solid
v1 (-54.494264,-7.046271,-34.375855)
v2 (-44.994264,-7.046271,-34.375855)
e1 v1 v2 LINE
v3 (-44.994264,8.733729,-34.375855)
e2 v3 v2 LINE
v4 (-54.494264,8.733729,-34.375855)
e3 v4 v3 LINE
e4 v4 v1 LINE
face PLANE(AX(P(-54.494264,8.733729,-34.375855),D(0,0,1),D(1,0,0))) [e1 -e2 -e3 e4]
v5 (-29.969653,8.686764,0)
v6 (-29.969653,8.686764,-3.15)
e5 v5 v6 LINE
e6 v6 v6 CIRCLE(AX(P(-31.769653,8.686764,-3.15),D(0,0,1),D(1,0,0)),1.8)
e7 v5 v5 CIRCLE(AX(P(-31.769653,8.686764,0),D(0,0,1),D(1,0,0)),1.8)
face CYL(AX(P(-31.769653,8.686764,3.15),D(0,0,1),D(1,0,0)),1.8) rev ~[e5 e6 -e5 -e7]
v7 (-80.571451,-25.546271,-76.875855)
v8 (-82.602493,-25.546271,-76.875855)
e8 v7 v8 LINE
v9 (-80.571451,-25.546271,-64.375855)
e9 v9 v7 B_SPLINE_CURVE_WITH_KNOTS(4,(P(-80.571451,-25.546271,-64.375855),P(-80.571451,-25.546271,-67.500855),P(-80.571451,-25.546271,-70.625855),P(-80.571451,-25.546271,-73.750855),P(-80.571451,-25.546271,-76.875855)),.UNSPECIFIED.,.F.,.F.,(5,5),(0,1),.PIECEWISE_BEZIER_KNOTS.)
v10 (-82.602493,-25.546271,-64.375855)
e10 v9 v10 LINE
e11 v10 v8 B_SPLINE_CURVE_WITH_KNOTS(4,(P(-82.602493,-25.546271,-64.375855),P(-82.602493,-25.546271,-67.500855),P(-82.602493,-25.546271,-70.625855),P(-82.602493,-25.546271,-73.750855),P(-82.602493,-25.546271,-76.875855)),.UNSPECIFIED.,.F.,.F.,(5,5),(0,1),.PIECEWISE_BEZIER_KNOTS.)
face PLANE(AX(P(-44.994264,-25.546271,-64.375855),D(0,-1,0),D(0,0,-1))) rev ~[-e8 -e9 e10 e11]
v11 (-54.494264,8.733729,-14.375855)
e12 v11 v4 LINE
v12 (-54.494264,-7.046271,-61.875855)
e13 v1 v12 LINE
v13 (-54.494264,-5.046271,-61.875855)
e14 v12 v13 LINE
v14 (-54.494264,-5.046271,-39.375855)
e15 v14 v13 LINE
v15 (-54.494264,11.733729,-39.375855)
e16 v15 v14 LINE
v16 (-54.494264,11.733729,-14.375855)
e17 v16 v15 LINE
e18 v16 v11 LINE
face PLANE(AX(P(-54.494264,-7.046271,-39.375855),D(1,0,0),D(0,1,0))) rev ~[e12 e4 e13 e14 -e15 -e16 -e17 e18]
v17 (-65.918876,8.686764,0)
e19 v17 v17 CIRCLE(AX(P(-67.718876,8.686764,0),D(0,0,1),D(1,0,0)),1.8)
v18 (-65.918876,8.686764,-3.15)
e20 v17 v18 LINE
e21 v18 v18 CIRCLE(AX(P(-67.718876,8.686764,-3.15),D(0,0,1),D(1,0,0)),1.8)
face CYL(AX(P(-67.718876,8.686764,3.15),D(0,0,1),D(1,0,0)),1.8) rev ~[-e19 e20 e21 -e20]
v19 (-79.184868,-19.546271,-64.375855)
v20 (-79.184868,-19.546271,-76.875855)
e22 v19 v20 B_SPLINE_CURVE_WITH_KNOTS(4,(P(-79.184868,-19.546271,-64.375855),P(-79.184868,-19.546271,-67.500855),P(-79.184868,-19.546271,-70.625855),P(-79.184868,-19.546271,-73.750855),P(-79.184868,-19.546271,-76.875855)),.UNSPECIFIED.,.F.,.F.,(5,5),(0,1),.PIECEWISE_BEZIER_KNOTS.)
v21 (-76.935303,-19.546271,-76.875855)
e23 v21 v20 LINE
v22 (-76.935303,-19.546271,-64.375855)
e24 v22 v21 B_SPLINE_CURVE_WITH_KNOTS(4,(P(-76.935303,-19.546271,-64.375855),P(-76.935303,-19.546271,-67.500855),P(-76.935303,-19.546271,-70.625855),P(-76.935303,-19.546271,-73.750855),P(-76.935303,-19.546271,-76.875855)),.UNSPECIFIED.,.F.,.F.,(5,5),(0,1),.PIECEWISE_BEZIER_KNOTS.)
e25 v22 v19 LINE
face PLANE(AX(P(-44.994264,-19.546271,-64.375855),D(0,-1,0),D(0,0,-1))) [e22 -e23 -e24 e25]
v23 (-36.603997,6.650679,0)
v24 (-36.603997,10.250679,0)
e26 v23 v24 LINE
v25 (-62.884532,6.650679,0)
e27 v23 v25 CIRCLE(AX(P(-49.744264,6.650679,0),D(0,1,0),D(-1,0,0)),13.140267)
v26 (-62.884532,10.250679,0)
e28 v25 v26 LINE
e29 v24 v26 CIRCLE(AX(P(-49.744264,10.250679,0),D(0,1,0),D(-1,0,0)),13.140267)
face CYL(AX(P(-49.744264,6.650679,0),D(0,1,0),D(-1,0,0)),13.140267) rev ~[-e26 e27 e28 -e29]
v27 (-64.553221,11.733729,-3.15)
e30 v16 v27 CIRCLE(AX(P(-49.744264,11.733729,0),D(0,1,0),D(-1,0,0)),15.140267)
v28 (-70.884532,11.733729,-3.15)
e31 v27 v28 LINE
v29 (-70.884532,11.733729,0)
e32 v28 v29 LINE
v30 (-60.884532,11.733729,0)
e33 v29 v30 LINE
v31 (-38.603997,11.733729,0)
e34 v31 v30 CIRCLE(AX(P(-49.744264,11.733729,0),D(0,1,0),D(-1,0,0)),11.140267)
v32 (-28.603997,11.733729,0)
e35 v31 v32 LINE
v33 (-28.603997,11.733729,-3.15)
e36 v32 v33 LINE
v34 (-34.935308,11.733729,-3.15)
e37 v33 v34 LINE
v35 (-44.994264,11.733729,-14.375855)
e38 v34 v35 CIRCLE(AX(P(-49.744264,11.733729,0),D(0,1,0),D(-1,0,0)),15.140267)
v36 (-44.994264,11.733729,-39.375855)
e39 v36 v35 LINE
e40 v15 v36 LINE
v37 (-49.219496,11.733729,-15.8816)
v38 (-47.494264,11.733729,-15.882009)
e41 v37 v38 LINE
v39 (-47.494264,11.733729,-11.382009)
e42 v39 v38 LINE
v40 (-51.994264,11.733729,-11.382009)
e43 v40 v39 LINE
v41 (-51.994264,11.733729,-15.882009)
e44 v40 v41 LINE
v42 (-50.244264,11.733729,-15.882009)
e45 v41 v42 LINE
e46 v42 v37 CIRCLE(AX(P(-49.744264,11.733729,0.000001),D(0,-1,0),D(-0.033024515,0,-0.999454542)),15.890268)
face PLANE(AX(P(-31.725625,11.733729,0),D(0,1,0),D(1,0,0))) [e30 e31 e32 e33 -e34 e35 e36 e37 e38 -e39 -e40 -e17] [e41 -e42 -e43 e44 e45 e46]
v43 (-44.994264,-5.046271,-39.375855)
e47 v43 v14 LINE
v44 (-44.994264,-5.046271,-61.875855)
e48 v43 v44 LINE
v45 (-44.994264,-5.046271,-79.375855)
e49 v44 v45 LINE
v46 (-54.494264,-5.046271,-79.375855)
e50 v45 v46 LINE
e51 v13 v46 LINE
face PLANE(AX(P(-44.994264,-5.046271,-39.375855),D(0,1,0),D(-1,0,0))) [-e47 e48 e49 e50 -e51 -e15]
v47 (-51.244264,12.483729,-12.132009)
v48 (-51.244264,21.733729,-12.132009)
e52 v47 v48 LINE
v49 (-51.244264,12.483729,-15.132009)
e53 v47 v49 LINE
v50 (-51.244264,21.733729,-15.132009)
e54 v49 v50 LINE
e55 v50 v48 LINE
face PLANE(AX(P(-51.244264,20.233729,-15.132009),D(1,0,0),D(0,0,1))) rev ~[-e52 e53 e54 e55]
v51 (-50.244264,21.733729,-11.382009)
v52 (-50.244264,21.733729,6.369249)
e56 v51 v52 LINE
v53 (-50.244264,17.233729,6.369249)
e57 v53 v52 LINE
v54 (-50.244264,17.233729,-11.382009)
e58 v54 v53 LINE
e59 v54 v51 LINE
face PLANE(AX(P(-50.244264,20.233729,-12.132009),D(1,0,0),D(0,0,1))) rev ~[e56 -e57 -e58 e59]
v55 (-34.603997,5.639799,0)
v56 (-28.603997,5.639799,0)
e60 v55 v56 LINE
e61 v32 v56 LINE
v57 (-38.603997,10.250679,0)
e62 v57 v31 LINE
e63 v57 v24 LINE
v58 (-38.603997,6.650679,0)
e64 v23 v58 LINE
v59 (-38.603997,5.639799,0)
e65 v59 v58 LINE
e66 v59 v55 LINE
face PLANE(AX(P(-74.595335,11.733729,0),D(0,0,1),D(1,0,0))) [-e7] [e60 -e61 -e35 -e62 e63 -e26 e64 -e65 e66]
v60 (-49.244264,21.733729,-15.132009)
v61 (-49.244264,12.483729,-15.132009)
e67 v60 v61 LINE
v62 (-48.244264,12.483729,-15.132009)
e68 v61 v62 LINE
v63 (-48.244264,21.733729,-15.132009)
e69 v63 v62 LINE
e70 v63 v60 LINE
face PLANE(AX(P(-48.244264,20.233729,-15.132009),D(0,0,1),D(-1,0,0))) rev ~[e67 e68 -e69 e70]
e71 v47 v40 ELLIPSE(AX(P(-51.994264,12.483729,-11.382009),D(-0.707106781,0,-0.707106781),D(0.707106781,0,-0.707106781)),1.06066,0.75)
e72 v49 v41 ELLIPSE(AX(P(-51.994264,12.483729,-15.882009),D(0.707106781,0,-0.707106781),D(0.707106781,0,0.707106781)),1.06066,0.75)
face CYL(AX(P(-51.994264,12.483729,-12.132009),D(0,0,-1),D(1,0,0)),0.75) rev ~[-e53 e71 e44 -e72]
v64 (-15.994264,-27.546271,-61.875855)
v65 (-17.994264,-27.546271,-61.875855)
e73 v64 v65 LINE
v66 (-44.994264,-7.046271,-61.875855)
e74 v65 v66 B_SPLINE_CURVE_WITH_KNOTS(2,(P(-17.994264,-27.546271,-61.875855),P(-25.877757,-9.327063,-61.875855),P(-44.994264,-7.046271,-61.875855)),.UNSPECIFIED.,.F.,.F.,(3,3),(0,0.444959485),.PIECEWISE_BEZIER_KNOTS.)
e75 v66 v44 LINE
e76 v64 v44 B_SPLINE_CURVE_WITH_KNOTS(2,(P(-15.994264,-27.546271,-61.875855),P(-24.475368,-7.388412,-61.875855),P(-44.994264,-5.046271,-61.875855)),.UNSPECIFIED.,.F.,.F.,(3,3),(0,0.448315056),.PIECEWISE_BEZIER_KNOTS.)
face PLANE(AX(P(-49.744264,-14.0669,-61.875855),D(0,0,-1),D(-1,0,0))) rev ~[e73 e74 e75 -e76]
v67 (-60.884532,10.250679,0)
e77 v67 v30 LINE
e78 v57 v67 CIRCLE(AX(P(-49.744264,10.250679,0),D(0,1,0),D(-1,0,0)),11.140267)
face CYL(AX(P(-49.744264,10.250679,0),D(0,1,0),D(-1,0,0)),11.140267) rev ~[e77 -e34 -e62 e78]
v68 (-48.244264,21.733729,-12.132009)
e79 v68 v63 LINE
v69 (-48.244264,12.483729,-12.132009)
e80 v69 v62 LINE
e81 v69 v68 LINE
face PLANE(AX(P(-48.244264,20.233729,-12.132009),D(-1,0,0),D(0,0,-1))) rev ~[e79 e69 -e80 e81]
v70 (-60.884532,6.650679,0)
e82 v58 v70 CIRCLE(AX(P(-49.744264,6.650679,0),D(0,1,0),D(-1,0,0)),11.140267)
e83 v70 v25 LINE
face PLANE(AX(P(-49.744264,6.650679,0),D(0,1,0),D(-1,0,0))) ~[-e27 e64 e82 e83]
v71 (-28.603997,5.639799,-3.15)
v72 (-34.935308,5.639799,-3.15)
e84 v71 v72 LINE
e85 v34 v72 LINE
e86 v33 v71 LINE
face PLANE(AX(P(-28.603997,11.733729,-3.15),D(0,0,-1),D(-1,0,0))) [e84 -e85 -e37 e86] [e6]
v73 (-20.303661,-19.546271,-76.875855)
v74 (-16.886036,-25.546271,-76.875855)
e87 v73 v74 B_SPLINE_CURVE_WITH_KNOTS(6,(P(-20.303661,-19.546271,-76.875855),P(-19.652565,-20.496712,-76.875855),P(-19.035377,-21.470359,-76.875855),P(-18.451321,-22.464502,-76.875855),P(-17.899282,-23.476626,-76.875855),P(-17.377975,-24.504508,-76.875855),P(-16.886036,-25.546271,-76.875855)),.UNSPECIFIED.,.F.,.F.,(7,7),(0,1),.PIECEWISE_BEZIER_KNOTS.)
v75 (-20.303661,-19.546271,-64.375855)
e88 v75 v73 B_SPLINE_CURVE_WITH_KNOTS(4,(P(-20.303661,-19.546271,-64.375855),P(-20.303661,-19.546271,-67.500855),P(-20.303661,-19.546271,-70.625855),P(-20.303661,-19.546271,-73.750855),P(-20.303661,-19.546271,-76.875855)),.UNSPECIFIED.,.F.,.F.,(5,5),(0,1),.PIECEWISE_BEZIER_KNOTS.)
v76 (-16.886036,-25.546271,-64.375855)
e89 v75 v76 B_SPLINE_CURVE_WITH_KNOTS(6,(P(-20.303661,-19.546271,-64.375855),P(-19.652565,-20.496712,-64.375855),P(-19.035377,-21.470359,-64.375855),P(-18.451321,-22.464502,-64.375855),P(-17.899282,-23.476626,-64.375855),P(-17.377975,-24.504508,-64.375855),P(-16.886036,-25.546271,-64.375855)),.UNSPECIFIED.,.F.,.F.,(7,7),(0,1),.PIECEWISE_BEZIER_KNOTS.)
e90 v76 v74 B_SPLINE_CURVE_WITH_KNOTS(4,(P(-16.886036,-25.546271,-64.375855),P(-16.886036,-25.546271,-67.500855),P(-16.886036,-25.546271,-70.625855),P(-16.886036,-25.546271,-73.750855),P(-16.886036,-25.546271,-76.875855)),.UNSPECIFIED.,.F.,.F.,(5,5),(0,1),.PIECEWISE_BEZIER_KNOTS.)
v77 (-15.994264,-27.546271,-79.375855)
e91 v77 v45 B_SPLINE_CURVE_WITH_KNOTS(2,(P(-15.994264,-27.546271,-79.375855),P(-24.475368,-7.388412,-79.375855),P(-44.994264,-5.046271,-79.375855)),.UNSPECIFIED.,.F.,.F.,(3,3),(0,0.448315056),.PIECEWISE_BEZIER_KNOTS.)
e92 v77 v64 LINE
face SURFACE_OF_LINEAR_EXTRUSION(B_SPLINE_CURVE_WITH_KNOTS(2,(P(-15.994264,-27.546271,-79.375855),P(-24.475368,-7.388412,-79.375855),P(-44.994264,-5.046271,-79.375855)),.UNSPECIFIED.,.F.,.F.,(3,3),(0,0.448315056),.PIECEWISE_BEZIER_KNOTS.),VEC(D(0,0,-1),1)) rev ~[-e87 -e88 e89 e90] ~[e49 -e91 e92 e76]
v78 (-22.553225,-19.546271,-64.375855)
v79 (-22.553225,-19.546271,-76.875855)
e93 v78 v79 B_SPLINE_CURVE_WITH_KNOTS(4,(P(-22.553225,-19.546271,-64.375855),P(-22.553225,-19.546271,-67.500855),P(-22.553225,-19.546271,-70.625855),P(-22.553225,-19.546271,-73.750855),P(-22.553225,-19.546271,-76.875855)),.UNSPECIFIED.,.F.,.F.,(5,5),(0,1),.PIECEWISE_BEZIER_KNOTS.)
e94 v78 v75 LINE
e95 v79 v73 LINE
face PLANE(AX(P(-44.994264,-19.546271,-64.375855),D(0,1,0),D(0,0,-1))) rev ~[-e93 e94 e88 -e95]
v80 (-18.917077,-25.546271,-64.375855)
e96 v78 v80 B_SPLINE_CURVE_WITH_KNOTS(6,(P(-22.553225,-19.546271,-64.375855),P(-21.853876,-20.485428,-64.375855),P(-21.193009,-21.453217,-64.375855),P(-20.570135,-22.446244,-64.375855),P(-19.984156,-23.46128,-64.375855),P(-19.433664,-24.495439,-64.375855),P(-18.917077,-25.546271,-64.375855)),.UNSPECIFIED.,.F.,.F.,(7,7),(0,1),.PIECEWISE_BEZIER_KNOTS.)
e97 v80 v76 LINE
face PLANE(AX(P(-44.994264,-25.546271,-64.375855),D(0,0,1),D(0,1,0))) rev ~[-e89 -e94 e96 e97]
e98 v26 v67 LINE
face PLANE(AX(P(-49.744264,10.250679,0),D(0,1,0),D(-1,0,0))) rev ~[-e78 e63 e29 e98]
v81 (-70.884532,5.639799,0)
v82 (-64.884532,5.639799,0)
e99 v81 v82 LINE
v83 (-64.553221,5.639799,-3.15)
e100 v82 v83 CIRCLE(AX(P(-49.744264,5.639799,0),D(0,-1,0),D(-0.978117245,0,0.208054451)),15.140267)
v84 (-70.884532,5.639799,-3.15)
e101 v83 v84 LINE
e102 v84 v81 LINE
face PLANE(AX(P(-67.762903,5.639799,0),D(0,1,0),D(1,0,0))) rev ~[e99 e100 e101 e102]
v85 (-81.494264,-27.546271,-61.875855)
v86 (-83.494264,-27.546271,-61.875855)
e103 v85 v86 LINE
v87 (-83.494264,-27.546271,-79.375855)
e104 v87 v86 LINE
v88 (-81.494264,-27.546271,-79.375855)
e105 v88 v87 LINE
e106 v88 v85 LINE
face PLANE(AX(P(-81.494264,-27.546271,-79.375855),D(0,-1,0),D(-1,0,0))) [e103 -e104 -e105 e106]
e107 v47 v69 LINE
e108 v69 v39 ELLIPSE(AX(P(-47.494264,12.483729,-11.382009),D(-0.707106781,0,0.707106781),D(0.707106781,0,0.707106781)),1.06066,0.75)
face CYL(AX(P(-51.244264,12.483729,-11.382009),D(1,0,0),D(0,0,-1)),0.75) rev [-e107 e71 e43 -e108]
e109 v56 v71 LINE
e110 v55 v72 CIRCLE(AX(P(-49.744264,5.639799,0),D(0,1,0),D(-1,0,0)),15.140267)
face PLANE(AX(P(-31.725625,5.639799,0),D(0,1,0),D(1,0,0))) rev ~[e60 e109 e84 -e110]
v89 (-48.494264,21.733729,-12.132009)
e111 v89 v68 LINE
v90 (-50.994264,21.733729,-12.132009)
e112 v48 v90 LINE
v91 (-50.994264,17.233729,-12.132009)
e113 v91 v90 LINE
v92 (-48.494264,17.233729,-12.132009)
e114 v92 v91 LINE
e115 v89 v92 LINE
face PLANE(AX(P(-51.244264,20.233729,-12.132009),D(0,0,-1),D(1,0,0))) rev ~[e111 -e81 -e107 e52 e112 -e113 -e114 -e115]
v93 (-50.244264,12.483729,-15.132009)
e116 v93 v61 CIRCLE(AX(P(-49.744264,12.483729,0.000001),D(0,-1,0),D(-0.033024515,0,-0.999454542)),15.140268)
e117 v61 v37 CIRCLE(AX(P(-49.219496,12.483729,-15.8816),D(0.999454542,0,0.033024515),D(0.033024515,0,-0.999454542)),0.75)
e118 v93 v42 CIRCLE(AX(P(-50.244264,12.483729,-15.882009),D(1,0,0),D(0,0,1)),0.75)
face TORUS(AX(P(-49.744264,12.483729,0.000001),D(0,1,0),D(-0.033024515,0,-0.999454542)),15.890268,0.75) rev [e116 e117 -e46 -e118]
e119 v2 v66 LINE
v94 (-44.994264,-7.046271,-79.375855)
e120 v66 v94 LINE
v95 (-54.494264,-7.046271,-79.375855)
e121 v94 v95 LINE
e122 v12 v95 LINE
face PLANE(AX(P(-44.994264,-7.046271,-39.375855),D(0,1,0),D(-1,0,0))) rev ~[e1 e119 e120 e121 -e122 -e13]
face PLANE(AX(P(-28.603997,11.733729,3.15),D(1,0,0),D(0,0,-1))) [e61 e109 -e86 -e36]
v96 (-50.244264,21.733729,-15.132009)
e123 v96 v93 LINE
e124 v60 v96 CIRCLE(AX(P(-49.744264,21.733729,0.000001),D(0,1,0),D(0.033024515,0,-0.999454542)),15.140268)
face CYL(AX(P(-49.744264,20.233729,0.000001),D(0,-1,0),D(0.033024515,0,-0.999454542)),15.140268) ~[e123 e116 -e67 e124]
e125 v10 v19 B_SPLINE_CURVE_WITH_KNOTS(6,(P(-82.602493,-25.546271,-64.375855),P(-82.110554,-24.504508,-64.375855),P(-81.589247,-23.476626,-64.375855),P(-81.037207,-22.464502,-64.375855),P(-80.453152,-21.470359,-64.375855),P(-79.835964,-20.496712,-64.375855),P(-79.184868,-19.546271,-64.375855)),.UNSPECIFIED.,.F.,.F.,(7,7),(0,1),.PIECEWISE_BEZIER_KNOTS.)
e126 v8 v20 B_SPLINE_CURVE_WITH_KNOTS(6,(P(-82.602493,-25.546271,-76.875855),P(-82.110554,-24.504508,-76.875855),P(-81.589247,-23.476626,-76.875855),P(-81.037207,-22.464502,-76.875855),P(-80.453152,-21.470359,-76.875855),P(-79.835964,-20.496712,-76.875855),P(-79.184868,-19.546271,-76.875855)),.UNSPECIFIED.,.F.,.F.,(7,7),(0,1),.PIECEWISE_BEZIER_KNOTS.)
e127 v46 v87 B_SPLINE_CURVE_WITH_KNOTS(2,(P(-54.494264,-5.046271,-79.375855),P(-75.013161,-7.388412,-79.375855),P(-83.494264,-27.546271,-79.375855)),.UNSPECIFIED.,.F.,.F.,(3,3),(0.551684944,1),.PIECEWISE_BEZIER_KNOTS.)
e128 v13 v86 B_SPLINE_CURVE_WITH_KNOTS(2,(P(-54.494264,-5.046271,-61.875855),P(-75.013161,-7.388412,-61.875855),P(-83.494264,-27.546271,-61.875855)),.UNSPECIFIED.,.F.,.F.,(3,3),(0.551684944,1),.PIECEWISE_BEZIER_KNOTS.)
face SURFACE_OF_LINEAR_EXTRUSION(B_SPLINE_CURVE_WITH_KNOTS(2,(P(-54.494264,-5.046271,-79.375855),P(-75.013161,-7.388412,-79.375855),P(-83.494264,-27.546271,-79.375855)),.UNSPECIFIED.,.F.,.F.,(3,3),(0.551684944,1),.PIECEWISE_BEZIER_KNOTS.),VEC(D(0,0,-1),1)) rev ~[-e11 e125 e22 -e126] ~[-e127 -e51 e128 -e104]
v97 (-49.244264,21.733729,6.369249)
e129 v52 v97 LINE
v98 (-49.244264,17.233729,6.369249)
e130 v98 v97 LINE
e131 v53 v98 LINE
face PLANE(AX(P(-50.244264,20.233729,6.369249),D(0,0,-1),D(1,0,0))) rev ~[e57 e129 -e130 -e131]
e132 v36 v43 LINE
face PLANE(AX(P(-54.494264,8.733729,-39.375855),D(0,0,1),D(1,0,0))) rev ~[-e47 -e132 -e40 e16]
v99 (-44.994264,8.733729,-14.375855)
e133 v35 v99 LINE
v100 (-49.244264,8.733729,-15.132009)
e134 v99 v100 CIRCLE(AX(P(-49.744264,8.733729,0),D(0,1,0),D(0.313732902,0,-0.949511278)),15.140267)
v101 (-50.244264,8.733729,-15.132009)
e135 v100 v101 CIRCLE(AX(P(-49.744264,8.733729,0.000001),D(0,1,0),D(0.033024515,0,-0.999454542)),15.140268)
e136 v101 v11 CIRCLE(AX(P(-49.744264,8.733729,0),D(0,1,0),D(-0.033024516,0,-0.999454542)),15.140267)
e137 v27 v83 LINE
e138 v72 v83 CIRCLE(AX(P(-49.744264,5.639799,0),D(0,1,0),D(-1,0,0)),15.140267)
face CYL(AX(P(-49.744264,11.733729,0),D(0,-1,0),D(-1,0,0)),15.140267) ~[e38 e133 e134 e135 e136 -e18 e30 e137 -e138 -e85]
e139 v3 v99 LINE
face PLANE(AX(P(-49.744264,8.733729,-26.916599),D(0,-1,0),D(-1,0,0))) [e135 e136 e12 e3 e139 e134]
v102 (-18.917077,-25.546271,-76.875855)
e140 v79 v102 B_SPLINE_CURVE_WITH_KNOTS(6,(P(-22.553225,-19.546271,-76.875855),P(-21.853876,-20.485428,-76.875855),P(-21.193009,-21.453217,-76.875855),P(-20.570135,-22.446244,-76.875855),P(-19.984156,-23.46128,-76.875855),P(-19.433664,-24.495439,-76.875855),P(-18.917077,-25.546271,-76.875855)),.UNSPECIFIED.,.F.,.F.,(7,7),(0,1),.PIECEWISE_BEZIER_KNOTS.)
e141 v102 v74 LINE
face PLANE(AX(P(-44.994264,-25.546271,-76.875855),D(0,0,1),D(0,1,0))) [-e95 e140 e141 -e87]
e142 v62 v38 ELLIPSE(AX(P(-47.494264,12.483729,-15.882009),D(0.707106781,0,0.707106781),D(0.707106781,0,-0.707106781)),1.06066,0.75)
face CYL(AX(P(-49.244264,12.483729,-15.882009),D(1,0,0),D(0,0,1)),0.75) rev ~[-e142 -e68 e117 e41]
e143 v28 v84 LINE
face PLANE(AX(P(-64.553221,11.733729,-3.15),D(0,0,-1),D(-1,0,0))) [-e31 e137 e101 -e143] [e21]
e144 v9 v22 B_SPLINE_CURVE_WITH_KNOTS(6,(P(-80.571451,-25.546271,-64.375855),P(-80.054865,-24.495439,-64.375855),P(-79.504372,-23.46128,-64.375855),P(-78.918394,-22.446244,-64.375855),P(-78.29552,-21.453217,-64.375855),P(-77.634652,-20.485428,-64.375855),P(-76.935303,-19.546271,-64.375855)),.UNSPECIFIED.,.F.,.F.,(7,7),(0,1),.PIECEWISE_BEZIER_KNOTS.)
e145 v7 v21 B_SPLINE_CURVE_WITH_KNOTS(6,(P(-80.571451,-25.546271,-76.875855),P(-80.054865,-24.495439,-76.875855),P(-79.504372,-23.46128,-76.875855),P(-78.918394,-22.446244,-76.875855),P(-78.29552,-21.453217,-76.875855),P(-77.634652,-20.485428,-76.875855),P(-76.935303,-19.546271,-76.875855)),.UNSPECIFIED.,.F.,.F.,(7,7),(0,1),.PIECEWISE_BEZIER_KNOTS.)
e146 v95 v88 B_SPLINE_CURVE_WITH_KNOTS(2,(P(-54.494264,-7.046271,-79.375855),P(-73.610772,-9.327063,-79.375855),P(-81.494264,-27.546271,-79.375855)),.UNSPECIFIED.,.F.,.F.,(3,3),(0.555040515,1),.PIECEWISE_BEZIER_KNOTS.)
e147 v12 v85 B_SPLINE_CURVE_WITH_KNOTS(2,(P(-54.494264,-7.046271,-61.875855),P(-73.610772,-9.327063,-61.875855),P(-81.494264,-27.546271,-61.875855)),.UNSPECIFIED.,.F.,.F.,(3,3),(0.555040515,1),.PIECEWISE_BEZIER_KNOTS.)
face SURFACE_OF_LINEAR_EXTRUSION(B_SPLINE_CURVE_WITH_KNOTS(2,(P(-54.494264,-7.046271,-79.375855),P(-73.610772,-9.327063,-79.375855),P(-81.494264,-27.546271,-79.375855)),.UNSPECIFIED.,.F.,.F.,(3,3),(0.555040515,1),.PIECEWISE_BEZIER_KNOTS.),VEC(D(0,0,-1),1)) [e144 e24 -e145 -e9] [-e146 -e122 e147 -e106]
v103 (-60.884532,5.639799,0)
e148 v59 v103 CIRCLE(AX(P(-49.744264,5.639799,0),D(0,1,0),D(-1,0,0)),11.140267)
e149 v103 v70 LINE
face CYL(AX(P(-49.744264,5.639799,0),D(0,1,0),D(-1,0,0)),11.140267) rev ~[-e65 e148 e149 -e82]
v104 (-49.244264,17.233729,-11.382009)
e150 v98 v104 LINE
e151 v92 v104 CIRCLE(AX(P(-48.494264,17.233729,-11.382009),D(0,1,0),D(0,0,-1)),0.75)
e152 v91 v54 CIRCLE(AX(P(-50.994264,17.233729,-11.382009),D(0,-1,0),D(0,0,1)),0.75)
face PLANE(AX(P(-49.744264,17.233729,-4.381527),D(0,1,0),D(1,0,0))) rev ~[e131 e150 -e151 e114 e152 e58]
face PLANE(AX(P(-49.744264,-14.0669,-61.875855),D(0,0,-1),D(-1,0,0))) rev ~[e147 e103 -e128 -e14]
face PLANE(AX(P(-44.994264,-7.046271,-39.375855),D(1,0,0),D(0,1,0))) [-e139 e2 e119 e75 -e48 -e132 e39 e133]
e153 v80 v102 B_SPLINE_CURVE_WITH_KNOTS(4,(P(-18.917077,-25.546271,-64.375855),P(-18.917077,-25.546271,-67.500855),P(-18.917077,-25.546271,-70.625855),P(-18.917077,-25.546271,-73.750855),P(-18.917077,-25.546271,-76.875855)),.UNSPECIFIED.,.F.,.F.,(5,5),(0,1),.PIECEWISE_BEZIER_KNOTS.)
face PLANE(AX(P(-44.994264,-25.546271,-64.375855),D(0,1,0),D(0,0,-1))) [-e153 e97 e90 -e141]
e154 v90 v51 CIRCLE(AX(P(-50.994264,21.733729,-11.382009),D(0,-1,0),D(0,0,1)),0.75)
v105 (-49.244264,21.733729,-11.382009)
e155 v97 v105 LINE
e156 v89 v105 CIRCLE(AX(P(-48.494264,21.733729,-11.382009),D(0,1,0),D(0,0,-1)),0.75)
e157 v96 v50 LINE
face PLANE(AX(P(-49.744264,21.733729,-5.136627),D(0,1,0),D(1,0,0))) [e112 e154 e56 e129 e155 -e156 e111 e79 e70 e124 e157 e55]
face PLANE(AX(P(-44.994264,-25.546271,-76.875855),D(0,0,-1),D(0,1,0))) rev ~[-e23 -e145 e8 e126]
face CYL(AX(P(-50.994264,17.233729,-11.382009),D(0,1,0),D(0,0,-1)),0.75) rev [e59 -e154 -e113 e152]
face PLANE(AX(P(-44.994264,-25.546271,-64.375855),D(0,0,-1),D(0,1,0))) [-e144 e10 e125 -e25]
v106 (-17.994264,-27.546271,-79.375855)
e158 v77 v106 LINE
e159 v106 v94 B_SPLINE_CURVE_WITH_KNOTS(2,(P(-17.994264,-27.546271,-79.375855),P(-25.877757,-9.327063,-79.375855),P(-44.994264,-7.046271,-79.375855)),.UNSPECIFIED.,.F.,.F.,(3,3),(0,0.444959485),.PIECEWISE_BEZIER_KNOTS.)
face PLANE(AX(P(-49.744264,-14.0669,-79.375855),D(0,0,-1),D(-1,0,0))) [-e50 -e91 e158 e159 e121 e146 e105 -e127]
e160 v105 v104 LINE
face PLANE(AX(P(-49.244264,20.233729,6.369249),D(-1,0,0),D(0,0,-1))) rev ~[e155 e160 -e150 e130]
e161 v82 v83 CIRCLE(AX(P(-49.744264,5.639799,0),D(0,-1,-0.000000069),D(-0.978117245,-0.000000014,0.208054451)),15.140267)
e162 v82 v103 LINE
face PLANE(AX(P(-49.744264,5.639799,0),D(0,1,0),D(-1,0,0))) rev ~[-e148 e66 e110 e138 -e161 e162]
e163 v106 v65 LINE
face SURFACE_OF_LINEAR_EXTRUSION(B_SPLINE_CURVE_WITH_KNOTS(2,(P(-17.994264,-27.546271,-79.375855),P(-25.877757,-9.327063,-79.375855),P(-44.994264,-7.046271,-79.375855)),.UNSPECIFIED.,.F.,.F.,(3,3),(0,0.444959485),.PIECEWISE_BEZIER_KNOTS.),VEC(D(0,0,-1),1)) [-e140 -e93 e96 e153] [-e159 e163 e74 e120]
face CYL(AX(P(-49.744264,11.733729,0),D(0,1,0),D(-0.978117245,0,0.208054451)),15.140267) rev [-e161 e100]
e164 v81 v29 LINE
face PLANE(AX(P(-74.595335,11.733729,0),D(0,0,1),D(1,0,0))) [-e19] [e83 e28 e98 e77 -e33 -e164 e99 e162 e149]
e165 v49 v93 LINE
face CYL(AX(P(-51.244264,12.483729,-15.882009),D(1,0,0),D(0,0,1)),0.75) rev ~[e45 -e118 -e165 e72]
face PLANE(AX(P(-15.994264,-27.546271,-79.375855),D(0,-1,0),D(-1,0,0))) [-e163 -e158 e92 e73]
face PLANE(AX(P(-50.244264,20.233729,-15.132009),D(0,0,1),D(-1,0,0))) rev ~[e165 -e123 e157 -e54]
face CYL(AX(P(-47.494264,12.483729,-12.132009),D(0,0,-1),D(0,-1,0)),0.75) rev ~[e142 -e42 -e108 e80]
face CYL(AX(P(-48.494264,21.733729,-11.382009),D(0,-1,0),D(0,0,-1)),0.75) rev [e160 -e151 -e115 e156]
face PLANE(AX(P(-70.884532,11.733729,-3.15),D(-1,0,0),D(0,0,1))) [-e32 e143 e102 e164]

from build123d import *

# Parameters (mm, degrees)
BOSS_EXTRUDE1_DEPTH     = 8.5
BOSS_EXTRUDE2_DEPTH     = 3
BOSS_EXTRUDE3_DEPTH     = 3
SKETCH10_W              = 9.5
SKETCH10_H              = 5
BOSS_EXTRUDE4_DEPTH     = 15.78
SKETCH11_W              = 9.5
SKETCH11_H              = 2
BOSS_EXTRUDE5_DEPTH     = 40
BOSS_EXTRUDE6_DEPTH     = 6.09393
SKETCH14_R              = 1.8
CUT_EXTRUDE1_DEPTH      = 6.3
SKETCH15_W              = 51.153217575
SKETCH15_H              = 21.210560201
CUT_EXTRUDE3_DEPTH      = 19.78
SKETCH18_W              = 3
SKETCH18_H              = 3
BOSS_EXTRUDE7_DEPTH     = 8.5
FILLET1_R               = 0.75
BOSS_EXTRUDE8_DEPTH     = 1.5
FILLET2_R               = 0.75
BOSS_EXTRUDE9_DEPTH     = 17.5
SKETCH21_W              = 12.5
SKETCH21_H              = 6
CUT_EXTRUDE4_DEPTH      = 30.0000001
CUT_EXTRUDE4_DEPTH_BACK = 39.5000001


with BuildPart() as part:
    # Sketch3 → Revolve1 (revolve)
    with BuildSketch(Plane.XY):
        Polygon((-62.694264441, 11.733728816), (-64.884531744, 11.733728816), (-64.884531744, 5.639799249), (-60.884531744, 5.639799249), (-60.884531744, 6.650679103), (-62.884531744, 6.650679103), (-62.884531744, 10.250679103), (-60.884531744, 10.250679103), (-60.884531744, 11.733728816), align=None)
    revolve(axis=Axis((-49.744264441, 0, 0), (0, 1, 0)))

    # Sketch7 → Boss-Extrude1 (add)
    with BuildSketch(Plane(origin=(0, 11.733728816, 0), x_dir=(1, 0, 0), z_dir=(0, 1, 0))):
        with BuildLine():
            Line((-50.244264441, 15.132008921), (-50.244264441, 13.130751112))
            ThreePointArc((-50.244264441, 13.130751112), (-49.744264441, 13.140267302), (-49.244264441, 13.130751112))
            Line((-49.244264441, 13.130751112), (-49.244264441, 15.132008921))
            ThreePointArc((-49.244264441, 15.132008921), (-49.744264441, 15.140267302), (-50.244264441, 15.132008921))
        make_face()
    extrude(amount=BOSS_EXTRUDE1_DEPTH)

    # Sketch8 → Boss-Extrude2 (add)
    with BuildSketch(Plane(origin=(0, 20.233728816, 0), x_dir=(1, 0, 0), z_dir=(0, 1, 0))):
        with BuildLine():
            Line((-50.244264441, 15.132008921), (-50.244264441, 13.130751112))
            Line((-50.244264441, 13.130751112), (-50.244264441, -6.369248888))
            Line((-50.244264441, -6.369248888), (-49.244264441, -6.369248888))
            Line((-49.244264441, -6.369248888), (-49.244264441, 13.130751112))
            Line((-49.244264441, 13.130751112), (-49.244264441, 15.132008921))
            ThreePointArc((-49.244264441, 15.132008921), (-49.744264441, 15.140267302), (-50.244264441, 15.132008921))
        make_face()
    extrude(amount=-BOSS_EXTRUDE2_DEPTH)

    # Sketch9 → Boss-Extrude3 (add)
    with BuildSketch(Plane(origin=(0, 11.733728816, 0), x_dir=(1, 0, 0), z_dir=(0, 1, 0))):
        with BuildLine():
            Line((-54.494264441, 14.375854548), (-54.494264441, 39.375854548))
            Line((-54.494264441, 39.375854548), (-44.994264441, 39.375854548))
            Line((-44.994264441, 39.375854548), (-44.994264441, 14.375854548))
            ThreePointArc((-44.994264441, 14.375854548), (-47.092177082, 14.906177465), (-49.244264441, 15.132008921))
            ThreePointArc((-49.244264441, 15.132008921), (-49.744264441, 15.140267302), (-50.244264441, 15.132008921))
            ThreePointArc((-50.244264441, 15.132008921), (-52.3963518, 14.906177465), (-54.494264441, 14.375854548))
        make_face()
    extrude(amount=-BOSS_EXTRUDE3_DEPTH)

    # Sketch10 → Boss-Extrude4 (add)
    with BuildSketch(Plane.XZ.offset(-8.733728816)):
        with Locations((-49.744264441, -36.875854548)):
            Rectangle(SKETCH10_W, SKETCH10_H)
    extrude(amount=BOSS_EXTRUDE4_DEPTH)

    # Sketch11 → Boss-Extrude5 (add)
    with BuildSketch(Plane(origin=(0, 0, -39.375854548), x_dir=(-1, 0, 0), z_dir=(0, 0, -1))):
        with Locations((49.744264441, -6.046271184)):
            Rectangle(SKETCH11_W, SKETCH11_H)
    extrude(amount=BOSS_EXTRUDE5_DEPTH)

    # Sketch13 → Boss-Extrude6 (add)
    with BuildSketch(Plane(origin=(0, 11.733728816, 0), x_dir=(1, 0, 0), z_dir=(0, 1, 0))):
        with BuildLine():
            Line((-28.603997139, 3.15), (-34.935307895, 3.15))
            ThreePointArc((-34.935307895, 3.15), (-34.603997139, 0), (-34.935307895, -3.15))
            Line((-34.935307895, -3.15), (-28.603997139, -3.15))
            Line((-28.603997139, -3.15), (-28.603997139, 3.15))
        make_face()
        with BuildLine():
            Line((-70.884531744, 3.15), (-70.884531744, -3.15))
            Line((-70.884531744, -3.15), (-64.553220987, -3.15))
            ThreePointArc((-64.553220987, -3.15), (-64.884531744, 0), (-64.553220987, 3.15))
            Line((-64.553220987, 3.15), (-70.884531744, 3.15))
        make_face()
    extrude(amount=-BOSS_EXTRUDE6_DEPTH)

    # Sketch14 → Cut-Extrude1 (cut)
    with BuildSketch(Plane.XY.offset(3.15)):
        with Locations((-31.769652517, 8.686764033)):
            Circle(SKETCH14_R)
        with Locations((-67.718876365, 8.686764033)):
            Circle(SKETCH14_R)
    extrude(amount=-CUT_EXTRUDE1_DEPTH, mode=Mode.SUBTRACT)

    # Sketch15 → Cut-Extrude3 (cut, through all)
    with BuildSketch(Plane(origin=(0, 11.733728816, 0), x_dir=(1, 0, 0), z_dir=(0, 1, 0))):
        with Locations((-49.018725857, -10.6052801)):
            Rectangle(SKETCH15_W, SKETCH15_H)
    extrude(amount=-CUT_EXTRUDE3_DEPTH, mode=Mode.SUBTRACT)

    # Sketch18 → Boss-Extrude7 (add)
    with BuildSketch(Plane(origin=(0, 11.733728816, 0), x_dir=(1, 0, 0), z_dir=(0, 1, 0))):
        with Locations((-49.744264441, 13.632008921)):
            Rectangle(SKETCH18_W, SKETCH18_H)
    extrude(amount=BOSS_EXTRUDE7_DEPTH)

    # Fillet1
    fillet1_edges = [part.edges().sort_by_distance(p)[0] for p in [
        (-50.744264441, 11.733728816, -15.132008921),
        (-48.744264441, 11.733728816, -15.132008921),
        (-49.744264441, 11.733728816, -12.132008921),
        (-48.244264441, 11.733728816, -13.632008921),
        (-51.244264441, 11.733728816, -13.632008921),
        (-49.744264441, 11.733728816, -15.140267302),
    ]]
    fillet(fillet1_edges, radius=FILLET1_R)

    # Sketch19 → Boss-Extrude8 (add)
    with BuildSketch(Plane(origin=(0, 20.233728816, 0), x_dir=(1, 0, 0), z_dir=(0, 1, 0))):
        with BuildLine():
            Line((-50.244264441, 15.132008921), (-51.244264441, 15.132008921))
            Line((-51.244264441, 15.132008921), (-51.244264441, 12.132008921))
            Line((-51.244264441, 12.132008921), (-50.244264441, 12.132008921))
            Line((-50.244264441, 12.132008921), (-50.244264441, -6.369248888))
            Line((-50.244264441, -6.369248888), (-49.244264441, -6.369248888))
            Line((-49.244264441, -6.369248888), (-49.244264441, 12.132008921))
            Line((-49.244264441, 12.132008921), (-48.244264441, 12.132008921))
            Line((-48.244264441, 12.132008921), (-48.244264441, 15.132008921))
            Line((-48.244264441, 15.132008921), (-49.244264441, 15.132008921))
            ThreePointArc((-49.244264441, 15.132008921), (-49.744264441, 15.140267302), (-50.244264441, 15.132008921))
        make_face()
    extrude(amount=BOSS_EXTRUDE8_DEPTH)

    # Fillet2
    fillet2_edges = [part.edges().sort_by_distance(p)[0] for p in [
        (-50.244264441, 19.483728816, -12.132008921),
        (-49.244264441, 19.483728816, -12.132008921),
    ]]
    fillet(fillet2_edges, radius=FILLET2_R)

    # Sketch20 → Boss-Extrude9 (add)
    with BuildSketch(Plane(origin=(0, 0, -79.375854548), x_dir=(-1, 0, 0), z_dir=(0, 0, -1))):
        with BuildLine():
            Line((15.994264441, -27.546271184), (17.994264441, -27.546271184))
            add(Edge.make_bspline(
                [(17.994264441, -27.546271184), (25.87775722, -9.327062953), (44.994264441, -7.046271184)],
                knots=[0, 0, 0, 0.444959485, 0.444959485, 0.444959485], degree=2))
            Line((44.994264441, -7.046271184), (54.494264441, -7.046271184))
            add(Edge.make_bspline(
                [(54.494264441, -7.046271184), (73.610771663, -9.327062953), (81.494264441, -27.546271184)],
                knots=[0.555040515, 0.555040515, 0.555040515, 1, 1, 1], degree=2))
            Line((81.494264441, -27.546271184), (83.494264441, -27.546271184))
            add(Edge.make_bspline(
                [(54.494264441, -5.046271184), (75.013161261, -7.38841158), (83.494264441, -27.546271184)],
                knots=[0.551684944, 0.551684944, 0.551684944, 1, 1, 1], degree=2))
            Line((54.494264441, -5.046271184), (44.994264441, -5.046271184))
            add(Edge.make_bspline(
                [(15.994264441, -27.546271184), (24.475367621, -7.38841158), (44.994264441, -5.046271184)],
                knots=[0, 0, 0, 0.448315056, 0.448315056, 0.448315056], degree=2))
        make_face()
    extrude(amount=-BOSS_EXTRUDE9_DEPTH)

    # Sketch21 → Cut-Extrude4 (cut, two sides)
    with BuildSketch(Plane(origin=(-44.994264441, 0, 0), x_dir=(0, 0, -1), z_dir=(1, 0, 0))) as cut_extrude4_sk:
        with Locations((70.625854548, -22.546271184)):
            Rectangle(SKETCH21_W, SKETCH21_H)
    extrude(amount=CUT_EXTRUDE4_DEPTH, mode=Mode.SUBTRACT)
    extrude(cut_extrude4_sk.sketch, amount=-CUT_EXTRUDE4_DEPTH_BACK, mode=Mode.SUBTRACT)


solid = part.part
